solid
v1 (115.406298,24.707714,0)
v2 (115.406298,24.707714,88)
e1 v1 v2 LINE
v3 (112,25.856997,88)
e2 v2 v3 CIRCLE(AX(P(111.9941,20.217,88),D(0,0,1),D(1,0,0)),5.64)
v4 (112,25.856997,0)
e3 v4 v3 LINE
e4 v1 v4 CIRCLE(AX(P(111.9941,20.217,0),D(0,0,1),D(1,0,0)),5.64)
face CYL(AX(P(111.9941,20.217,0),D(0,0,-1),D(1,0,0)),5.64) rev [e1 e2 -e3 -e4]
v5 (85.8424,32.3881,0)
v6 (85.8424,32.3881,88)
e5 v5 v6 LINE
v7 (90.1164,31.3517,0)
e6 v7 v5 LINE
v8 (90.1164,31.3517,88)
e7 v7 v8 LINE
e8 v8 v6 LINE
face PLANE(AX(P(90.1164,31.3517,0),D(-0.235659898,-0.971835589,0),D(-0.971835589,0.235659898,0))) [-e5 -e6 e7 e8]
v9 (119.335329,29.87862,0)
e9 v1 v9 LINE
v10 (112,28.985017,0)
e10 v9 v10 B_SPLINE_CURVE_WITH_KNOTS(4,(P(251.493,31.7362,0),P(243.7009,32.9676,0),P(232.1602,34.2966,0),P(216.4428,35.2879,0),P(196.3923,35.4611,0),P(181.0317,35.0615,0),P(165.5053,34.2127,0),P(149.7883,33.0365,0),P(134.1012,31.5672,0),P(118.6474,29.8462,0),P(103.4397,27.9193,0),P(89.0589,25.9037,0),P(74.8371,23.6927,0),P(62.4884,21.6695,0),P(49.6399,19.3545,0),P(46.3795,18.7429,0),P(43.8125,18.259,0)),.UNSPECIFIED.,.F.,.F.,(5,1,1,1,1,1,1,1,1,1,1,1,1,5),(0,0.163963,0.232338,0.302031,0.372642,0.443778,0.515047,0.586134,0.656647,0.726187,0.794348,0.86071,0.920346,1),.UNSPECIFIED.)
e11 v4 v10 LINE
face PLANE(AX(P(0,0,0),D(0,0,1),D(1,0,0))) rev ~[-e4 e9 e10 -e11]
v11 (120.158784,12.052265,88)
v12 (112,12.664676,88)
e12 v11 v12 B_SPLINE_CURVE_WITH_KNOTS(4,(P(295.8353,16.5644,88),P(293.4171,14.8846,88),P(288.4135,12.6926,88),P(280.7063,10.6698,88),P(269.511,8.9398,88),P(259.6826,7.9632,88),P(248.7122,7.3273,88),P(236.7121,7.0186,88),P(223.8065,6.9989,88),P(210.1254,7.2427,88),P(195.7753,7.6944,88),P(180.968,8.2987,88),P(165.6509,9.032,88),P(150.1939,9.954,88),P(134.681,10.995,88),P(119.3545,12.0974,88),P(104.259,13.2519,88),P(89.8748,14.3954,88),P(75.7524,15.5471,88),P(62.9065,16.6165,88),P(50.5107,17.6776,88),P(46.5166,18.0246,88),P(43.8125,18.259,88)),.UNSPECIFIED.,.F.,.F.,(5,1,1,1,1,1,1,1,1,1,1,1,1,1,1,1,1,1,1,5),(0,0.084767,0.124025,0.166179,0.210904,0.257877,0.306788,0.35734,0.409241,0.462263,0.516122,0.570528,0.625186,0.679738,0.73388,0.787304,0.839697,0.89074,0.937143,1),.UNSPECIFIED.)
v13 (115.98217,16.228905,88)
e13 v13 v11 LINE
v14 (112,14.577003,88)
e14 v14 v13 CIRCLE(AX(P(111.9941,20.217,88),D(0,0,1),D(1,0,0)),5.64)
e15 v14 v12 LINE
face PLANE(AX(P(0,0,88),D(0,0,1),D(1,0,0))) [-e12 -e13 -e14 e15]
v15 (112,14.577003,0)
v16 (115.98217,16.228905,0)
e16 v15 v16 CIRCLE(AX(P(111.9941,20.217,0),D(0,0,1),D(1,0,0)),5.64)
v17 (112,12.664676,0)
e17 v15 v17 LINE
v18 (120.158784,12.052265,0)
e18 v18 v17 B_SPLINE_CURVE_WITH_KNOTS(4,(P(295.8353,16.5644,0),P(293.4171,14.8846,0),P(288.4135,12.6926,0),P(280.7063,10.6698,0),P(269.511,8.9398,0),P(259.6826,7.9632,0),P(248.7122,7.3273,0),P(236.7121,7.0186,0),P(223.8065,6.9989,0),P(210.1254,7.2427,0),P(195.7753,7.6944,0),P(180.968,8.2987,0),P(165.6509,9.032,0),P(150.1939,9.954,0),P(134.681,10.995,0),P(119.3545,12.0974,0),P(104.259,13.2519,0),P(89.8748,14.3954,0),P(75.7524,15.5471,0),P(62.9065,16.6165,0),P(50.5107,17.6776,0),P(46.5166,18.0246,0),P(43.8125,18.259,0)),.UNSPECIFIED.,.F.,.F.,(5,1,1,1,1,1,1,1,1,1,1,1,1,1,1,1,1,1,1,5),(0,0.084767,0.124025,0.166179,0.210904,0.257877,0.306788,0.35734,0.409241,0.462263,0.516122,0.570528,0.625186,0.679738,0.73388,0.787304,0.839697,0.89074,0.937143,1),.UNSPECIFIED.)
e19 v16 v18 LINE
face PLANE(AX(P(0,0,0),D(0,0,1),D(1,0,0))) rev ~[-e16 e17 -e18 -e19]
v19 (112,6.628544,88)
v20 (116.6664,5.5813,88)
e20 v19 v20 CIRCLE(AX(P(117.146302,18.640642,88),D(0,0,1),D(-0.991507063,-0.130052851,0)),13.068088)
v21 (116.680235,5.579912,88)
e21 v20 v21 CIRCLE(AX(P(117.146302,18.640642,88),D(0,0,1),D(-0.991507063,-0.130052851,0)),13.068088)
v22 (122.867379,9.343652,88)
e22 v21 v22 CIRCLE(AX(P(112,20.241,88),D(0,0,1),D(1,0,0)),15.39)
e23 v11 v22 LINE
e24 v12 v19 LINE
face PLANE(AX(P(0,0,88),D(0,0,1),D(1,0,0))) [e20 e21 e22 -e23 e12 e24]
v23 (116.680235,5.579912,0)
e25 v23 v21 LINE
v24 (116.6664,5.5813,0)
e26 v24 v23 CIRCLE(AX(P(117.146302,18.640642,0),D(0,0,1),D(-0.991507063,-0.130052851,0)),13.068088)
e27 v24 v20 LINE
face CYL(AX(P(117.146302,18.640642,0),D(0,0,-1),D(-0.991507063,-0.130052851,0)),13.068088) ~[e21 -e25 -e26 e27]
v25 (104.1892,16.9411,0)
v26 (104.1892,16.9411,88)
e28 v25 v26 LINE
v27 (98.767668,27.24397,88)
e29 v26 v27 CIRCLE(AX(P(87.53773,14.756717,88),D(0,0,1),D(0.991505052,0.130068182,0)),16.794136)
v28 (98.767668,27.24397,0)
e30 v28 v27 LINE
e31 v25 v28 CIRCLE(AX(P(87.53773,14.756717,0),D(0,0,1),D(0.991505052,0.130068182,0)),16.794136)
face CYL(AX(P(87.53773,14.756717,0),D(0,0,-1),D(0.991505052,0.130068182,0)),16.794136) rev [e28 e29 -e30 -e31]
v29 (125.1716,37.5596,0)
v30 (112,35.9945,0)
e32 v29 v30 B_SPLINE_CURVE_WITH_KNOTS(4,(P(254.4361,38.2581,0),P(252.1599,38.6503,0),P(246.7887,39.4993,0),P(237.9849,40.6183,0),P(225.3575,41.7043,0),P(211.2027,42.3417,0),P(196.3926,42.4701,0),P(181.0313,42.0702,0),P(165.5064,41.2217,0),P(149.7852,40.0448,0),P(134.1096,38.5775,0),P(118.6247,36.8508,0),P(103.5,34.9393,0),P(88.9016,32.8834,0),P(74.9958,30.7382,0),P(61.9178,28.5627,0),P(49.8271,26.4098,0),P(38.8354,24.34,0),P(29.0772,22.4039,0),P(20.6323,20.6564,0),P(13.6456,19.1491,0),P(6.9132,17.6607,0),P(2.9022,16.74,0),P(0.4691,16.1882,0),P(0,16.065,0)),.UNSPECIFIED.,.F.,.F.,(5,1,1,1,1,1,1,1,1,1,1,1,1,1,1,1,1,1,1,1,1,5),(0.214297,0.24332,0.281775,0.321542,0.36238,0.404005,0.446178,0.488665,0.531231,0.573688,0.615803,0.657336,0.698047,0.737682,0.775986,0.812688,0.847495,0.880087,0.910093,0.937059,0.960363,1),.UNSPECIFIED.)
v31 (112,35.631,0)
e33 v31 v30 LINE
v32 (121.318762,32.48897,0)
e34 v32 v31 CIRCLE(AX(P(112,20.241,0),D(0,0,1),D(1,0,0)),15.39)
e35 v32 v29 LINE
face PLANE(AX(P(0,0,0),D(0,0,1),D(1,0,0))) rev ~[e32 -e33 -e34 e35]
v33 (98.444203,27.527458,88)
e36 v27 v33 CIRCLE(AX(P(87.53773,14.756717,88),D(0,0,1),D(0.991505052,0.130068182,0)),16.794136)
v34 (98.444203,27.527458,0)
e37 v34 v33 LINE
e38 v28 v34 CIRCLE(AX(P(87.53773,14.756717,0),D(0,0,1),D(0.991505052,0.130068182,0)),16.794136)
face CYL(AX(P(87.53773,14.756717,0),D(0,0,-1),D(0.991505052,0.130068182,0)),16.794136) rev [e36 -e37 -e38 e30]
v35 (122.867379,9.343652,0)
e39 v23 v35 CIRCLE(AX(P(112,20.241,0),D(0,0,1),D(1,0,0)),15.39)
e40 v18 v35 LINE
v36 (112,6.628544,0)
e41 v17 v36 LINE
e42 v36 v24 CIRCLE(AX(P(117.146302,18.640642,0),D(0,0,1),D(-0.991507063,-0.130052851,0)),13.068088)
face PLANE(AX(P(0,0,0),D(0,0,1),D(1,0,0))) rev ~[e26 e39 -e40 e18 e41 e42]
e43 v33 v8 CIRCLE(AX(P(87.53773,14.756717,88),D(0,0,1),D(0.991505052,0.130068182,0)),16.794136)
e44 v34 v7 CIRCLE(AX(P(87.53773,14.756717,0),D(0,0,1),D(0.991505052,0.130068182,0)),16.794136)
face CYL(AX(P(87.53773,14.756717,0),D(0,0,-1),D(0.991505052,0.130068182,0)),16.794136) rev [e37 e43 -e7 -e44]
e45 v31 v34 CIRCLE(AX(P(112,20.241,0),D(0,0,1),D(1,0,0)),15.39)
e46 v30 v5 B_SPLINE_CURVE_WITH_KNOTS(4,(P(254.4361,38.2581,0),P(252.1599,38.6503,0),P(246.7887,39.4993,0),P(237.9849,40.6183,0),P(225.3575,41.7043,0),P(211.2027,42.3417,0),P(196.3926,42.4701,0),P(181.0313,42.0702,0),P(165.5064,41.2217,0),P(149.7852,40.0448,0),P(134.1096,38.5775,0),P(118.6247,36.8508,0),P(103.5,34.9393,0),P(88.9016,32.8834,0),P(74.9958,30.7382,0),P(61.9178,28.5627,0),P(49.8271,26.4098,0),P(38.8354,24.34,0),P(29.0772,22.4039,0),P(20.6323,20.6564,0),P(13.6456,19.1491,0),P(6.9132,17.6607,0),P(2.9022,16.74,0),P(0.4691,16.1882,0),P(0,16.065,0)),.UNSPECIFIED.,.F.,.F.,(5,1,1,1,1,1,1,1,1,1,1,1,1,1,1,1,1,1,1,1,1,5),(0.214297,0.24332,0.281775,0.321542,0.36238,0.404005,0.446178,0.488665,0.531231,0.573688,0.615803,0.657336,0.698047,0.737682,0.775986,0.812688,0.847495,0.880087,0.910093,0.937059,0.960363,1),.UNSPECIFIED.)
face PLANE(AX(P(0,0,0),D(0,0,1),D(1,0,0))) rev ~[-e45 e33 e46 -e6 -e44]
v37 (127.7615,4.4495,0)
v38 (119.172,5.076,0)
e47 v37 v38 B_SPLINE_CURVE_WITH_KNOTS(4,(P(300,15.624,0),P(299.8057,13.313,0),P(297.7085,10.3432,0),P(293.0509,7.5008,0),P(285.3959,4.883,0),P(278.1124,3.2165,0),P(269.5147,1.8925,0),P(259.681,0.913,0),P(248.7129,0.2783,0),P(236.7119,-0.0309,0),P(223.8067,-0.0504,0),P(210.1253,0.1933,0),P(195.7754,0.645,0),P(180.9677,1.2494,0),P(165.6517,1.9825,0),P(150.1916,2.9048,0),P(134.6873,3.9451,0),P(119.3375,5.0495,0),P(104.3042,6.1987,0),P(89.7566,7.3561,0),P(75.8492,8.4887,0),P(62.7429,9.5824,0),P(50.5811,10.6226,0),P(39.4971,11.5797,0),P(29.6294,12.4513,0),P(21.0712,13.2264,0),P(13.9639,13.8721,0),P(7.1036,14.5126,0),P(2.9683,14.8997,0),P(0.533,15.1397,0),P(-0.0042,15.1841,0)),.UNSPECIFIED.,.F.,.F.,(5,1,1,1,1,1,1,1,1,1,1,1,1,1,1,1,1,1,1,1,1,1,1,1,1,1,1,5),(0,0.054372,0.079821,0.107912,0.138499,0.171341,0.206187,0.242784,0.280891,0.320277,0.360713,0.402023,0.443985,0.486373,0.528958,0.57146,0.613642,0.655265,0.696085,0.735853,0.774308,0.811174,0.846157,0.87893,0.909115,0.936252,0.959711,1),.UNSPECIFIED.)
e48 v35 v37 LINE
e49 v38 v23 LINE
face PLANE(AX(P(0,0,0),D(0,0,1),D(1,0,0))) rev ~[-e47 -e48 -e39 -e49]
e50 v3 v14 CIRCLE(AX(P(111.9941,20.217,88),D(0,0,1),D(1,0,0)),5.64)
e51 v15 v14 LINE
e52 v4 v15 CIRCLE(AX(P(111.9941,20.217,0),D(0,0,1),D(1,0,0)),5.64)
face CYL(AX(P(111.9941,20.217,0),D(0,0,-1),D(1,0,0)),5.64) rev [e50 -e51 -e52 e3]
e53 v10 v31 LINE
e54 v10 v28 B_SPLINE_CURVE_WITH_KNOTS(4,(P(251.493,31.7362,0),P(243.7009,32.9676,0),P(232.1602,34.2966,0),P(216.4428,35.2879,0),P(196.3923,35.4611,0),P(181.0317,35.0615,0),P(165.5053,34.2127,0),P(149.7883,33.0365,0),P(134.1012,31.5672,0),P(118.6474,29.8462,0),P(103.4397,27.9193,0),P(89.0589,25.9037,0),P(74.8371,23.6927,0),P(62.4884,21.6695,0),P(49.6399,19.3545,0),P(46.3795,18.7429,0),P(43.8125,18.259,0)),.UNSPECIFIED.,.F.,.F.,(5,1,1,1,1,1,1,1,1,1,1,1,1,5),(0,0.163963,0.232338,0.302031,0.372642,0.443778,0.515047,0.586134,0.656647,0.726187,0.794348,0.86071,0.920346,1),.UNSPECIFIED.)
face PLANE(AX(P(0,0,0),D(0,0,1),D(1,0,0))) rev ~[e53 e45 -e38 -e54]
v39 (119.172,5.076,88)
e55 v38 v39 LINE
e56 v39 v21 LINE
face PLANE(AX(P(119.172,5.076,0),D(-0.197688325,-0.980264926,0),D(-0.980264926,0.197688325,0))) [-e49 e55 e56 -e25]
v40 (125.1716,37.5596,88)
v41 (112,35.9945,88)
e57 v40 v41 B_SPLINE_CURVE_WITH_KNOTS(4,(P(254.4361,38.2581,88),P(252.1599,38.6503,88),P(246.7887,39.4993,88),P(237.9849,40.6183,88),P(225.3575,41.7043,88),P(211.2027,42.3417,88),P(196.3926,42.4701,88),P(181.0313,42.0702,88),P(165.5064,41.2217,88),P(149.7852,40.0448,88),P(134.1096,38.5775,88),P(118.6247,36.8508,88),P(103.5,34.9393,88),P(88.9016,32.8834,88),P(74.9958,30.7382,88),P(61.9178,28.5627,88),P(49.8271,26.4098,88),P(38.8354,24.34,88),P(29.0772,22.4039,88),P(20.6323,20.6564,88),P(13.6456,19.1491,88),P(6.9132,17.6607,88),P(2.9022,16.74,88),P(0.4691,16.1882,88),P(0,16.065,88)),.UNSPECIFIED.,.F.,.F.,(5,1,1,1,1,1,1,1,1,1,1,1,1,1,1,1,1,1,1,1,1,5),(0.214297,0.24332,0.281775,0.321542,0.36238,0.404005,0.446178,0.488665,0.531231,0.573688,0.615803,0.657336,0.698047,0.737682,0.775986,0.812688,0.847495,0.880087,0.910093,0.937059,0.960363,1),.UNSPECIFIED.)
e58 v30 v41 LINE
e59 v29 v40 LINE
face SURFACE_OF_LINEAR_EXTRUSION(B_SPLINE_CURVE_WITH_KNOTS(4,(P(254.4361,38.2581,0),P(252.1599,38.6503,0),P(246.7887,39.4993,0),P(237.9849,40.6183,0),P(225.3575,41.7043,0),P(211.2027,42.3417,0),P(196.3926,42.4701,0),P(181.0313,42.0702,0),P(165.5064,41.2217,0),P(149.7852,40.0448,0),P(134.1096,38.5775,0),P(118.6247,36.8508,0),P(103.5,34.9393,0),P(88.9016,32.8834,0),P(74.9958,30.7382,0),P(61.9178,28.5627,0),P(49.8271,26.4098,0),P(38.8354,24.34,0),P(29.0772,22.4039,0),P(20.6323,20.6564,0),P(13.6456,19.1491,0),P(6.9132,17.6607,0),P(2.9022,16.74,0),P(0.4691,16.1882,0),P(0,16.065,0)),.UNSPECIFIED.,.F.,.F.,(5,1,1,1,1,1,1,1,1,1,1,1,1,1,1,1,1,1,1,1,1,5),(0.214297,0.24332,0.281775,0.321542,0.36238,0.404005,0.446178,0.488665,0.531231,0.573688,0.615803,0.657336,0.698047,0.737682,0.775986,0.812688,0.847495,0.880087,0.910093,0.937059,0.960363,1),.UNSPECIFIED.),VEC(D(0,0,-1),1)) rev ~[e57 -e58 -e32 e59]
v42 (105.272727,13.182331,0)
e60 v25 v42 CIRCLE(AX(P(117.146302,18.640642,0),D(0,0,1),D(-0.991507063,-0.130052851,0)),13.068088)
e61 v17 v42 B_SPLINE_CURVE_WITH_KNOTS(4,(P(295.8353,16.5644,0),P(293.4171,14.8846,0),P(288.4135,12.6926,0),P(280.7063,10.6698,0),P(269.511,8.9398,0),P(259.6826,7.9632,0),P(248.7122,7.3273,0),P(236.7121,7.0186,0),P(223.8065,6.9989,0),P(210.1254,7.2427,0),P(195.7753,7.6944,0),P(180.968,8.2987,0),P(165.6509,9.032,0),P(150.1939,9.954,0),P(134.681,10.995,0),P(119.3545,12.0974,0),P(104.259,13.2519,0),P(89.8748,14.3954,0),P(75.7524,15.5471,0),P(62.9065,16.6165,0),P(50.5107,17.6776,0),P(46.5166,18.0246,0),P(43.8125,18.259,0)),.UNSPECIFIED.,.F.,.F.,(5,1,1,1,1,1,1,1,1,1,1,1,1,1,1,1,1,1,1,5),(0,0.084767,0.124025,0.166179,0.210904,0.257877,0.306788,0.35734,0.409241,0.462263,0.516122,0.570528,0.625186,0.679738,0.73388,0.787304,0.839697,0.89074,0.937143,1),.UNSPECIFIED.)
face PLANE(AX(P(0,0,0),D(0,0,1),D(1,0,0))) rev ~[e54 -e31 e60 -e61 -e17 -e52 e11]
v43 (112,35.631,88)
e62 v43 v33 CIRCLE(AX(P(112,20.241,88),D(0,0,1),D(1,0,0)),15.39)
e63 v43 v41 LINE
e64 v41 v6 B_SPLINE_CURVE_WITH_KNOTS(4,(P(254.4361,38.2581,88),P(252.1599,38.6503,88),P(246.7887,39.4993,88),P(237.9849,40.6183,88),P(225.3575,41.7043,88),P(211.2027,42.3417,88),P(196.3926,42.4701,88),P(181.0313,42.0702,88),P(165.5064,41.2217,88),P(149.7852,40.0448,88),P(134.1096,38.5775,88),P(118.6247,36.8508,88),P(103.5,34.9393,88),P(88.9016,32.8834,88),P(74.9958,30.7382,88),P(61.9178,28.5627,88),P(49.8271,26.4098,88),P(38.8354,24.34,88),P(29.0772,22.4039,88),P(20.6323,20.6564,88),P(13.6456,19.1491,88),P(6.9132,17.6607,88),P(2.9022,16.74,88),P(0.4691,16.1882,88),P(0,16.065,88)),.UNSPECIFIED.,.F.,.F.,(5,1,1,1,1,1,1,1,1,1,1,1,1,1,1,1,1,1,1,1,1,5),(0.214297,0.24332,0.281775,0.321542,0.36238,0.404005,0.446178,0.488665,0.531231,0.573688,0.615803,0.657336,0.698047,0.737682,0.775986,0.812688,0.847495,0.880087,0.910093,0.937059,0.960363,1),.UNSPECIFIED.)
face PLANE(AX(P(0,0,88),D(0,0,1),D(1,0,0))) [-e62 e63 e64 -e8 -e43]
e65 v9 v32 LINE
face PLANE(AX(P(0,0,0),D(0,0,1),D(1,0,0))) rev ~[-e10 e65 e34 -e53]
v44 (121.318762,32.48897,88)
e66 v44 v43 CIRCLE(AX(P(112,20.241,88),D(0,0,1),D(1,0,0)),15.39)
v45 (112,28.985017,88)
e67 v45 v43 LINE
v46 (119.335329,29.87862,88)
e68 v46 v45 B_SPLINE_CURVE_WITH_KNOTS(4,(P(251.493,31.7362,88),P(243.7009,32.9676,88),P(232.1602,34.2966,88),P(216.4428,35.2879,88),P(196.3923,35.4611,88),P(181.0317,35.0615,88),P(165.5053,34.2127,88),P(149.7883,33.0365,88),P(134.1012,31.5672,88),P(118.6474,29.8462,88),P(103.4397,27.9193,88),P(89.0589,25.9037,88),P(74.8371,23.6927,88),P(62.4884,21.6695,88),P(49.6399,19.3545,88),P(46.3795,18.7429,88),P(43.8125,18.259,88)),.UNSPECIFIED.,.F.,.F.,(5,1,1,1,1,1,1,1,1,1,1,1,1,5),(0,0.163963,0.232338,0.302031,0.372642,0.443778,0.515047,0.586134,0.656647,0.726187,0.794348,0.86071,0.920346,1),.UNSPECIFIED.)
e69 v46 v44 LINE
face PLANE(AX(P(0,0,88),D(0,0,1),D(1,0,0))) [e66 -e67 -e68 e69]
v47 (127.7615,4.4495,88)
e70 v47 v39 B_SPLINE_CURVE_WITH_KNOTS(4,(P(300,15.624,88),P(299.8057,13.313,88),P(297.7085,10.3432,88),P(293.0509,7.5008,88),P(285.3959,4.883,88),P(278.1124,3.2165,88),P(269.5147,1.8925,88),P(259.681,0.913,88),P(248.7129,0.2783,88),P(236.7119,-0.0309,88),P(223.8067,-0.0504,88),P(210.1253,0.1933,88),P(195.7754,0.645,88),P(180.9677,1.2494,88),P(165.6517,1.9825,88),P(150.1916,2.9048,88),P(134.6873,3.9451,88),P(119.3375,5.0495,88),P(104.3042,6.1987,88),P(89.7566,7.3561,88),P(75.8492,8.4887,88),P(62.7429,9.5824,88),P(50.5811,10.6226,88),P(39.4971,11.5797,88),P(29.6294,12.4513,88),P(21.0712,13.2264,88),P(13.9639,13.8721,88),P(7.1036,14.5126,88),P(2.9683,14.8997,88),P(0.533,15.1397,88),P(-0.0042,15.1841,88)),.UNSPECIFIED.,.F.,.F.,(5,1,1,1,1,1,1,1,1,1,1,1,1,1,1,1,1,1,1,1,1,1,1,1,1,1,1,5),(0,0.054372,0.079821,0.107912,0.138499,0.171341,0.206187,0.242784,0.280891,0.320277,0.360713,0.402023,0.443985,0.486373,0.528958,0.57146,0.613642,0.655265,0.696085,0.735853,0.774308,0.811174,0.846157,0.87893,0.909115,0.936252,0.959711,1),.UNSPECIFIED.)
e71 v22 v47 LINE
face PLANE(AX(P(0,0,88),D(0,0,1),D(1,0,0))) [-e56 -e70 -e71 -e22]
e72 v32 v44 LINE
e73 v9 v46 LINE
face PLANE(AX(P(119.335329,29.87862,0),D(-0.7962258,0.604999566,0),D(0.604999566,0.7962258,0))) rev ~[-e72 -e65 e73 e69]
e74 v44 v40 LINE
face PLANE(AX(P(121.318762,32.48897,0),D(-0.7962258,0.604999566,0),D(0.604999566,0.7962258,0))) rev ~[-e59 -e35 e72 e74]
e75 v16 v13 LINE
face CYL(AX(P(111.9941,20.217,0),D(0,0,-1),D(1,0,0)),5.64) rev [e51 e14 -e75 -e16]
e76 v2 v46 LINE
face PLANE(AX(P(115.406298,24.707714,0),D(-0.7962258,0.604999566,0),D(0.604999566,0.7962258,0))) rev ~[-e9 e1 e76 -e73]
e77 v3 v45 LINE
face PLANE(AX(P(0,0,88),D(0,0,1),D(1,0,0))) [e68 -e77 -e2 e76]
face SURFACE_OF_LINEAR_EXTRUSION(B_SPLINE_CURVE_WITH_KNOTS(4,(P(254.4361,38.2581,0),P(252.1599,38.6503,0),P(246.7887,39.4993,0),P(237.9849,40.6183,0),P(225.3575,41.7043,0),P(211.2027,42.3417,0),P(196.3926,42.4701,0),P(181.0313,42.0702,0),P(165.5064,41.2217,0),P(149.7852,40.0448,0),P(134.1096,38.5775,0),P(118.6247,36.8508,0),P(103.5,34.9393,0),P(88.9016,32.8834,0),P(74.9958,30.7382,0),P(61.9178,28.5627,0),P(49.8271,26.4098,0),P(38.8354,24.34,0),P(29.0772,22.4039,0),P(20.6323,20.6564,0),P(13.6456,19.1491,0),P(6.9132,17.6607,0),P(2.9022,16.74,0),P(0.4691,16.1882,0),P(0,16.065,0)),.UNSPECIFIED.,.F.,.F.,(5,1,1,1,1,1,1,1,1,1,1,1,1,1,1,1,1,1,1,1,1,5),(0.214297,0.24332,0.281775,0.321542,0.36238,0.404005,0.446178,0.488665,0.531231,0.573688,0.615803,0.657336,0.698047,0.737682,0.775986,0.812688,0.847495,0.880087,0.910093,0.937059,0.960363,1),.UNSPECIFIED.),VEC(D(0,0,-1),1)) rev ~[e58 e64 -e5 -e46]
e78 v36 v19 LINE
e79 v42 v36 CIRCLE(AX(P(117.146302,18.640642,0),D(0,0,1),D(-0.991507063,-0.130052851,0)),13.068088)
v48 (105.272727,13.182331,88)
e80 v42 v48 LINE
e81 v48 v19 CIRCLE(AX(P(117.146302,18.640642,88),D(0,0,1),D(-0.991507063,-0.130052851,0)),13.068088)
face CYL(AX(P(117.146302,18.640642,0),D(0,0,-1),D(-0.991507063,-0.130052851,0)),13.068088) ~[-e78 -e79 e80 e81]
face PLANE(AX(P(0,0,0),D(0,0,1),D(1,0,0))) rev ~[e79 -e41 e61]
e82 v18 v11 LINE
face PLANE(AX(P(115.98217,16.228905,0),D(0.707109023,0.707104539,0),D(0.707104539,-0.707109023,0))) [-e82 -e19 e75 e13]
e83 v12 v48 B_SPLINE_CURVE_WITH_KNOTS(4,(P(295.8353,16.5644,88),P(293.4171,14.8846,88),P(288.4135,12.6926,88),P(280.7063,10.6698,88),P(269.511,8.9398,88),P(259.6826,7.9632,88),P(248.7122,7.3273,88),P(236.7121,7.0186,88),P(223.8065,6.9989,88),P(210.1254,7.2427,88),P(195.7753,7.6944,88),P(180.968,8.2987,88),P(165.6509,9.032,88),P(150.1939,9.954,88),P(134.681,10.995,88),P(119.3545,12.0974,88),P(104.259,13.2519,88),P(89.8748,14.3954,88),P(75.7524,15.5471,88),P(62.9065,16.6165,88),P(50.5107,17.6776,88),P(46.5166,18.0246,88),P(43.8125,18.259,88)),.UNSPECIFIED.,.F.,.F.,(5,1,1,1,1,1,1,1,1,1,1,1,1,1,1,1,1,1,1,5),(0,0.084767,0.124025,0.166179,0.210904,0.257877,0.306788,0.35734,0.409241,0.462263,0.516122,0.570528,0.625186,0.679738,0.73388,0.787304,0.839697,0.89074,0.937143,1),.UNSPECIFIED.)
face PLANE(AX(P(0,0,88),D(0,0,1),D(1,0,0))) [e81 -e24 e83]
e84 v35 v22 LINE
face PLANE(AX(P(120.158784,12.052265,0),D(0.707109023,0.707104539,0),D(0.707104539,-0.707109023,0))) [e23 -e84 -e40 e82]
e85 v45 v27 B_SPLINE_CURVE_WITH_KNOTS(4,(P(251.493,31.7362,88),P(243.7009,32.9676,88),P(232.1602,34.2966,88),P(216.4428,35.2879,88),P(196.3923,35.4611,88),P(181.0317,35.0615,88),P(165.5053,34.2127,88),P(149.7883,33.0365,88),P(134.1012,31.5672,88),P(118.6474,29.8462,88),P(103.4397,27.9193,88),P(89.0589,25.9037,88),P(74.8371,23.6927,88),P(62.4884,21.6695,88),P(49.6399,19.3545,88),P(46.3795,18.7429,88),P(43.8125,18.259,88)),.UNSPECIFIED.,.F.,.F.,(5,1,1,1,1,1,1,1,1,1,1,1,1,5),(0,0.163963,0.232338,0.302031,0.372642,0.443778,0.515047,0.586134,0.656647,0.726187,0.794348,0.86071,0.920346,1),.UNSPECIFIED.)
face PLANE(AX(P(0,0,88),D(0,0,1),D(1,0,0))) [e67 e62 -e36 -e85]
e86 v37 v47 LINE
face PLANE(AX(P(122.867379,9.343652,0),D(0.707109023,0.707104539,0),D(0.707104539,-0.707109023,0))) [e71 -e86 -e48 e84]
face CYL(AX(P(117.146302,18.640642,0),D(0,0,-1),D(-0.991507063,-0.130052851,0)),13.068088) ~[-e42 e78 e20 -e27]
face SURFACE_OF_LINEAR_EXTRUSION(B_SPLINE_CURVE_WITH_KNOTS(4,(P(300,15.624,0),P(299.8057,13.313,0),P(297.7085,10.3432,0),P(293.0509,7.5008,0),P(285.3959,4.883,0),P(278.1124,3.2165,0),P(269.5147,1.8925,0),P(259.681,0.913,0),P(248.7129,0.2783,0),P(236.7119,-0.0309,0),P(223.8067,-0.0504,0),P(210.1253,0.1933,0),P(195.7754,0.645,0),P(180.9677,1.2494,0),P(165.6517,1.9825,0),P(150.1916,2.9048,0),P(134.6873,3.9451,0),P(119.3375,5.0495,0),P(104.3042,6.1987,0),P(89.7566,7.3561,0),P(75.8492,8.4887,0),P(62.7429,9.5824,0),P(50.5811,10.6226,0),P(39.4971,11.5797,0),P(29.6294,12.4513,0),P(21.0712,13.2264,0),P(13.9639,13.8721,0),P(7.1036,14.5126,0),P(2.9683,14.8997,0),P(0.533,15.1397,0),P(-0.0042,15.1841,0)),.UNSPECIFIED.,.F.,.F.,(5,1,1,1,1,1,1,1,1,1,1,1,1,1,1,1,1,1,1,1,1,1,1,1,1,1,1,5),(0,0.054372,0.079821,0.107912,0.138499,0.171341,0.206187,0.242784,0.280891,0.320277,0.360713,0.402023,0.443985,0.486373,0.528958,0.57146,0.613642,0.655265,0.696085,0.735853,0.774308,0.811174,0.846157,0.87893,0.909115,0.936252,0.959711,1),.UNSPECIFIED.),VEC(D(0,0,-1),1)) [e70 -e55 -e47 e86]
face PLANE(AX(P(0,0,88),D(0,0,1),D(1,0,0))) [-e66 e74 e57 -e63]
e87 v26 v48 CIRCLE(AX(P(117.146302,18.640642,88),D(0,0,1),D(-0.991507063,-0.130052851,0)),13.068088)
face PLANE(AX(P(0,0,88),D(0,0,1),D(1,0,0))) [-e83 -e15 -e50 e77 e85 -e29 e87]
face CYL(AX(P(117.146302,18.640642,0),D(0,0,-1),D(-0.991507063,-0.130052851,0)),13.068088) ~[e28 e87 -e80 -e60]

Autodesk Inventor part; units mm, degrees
ref_plane "YZ Plane" through (0, 0, 0) normal (1, 0, 0) x (0, 1, 0)
ref_plane "XZ Plane" through (0, 0, 0) normal (0, 1, 0) x (-1, 0, 0)
ref_plane "XY Plane" through (0, 0, 0) normal (0, 0, 1) x (1, 0, 0)
sketch "Sketch1" plane through (0, 0, 0) normal (0, 0, 1) x (1, 0, 0)
  spline S0 degree 4 poles (254.4361, 38.2581) (252.1599, 38.6503) (246.7887, 39.4993) (237.9849, 40.6183) (225.3575, 41.7043) (211.2027, 42.3417) (196.3926, 42.4701) (181.0313, 42.0702) (165.5064, 41.2217) (149.7852, 40.0448) (134.1096, 38.5775) (118.6247, 36.8508) (103.5, 34.9393) (88.9016, 32.8834) (74.9958, 30.7382) (61.9178, 28.5627) (49.8271, 26.4098) (38.8354, 24.34) (29.0772, 22.4039) (20.6323, 20.6564) (13.6456, 19.1491) (6.9132, 17.6607) (2.9022, 16.74) (0.4691, 16.1882) (0, 16.065) knots 0.214297 0.214297 0.214297 0.214297 0.214297 0.24332 0.281775 0.321542 0.36238 0.404005 0.446178 0.488665 0.531231 0.573688 0.615803 0.657336 0.698047 0.737682 0.775986 0.812688 0.847495 0.880087 0.910093 0.937059 0.960363 1 1 1 1 1
  spline S1 degree 4 poles (300, 15.624) (299.8057, 13.313) (297.7085, 10.3432) (293.0509, 7.5008) (285.3959, 4.883) (278.1124, 3.2165) (269.5147, 1.8925) (259.681, 0.913) (248.7129, 0.2783) (236.7119, -0.0309) (223.8067, -0.0504) (210.1253, 0.1933) (195.7754, 0.645) (180.9677, 1.2494) (165.6517, 1.9825) (150.1916, 2.9048) (134.6873, 3.9451) (119.3375, 5.0495) (104.3042, 6.1987) (89.7566, 7.3561) (75.8492, 8.4887) (62.7429, 9.5824) (50.5811, 10.6226) (39.4971, 11.5797) (29.6294, 12.4513) (21.0712, 13.2264) (13.9639, 13.8721) (7.1036, 14.5126) (2.9683, 14.8997) (0.533, 15.1397) (-0.0042, 15.1841) knots 0 0 0 0 0 0.054372 0.079821 0.107912 0.138499 0.171341 0.206187 0.242784 0.280891 0.320277 0.360713 0.402023 0.443985 0.486373 0.528958 0.57146 0.613642 0.655265 0.696085 0.735853 0.774308 0.811174 0.846157 0.87893 0.909115 0.936252 0.959711 1 1 1 1 1
  arc A0 (0, 16.065) -> (-0.0042, 15.1841) centre (0.1158, 15.624) ccw
  line L0 (0.1158, 15.624) -> (227.9902, 15.624) construction
  line L1 (300, 15.624) -> (0.1158, 15.624) construction
  line L2 (300, 15.624) -> (200, 15.624) construction
  line L3 (200, 15.624) -> (200, 42.3773) construction
  line L4 (200, 15.624) -> (200, 0.5273)
  line L5 (0, 0) -> (0, 20.241)
  line L6 (0, 20.241) -> (238.581, 20.241) construction
  circle A1 centre (238.581, 20.241) radius 14
  line L7 (238.581, 20.241) -> (208.581, 20.241)
  line L8 (238.581, 25.359) -> (238.581, 20.241)
  line L9 (0, 20.241) -> (112, 20.241) construction
  circle A2 centre (112, 20.241) radius 5.39
  line L10 (0, 15.624) -> (112, 15.624) construction
  line L11 (0, 15.624) -> (112, 15.624) construction
  line L12 (112, 15.624) -> (112, 35.9945)
  line L13 (112, 15.624) -> (112, 5.6153)
  spline S2 degree 4 poles (299.2852, 20.241) (299.2279, 20.1316) (299.168, 20.0232) (299.1056, 19.9158) (299.0406, 19.8092) knots 0.014818 0.014818 0.014818 0.014818 0.014818 0.017711 0.017711 0.017711 0.017711 0.017711
  line L14 (299.2071, 20.0822) -> (298.8742, 19.5363) construction
  arc A3 (298.904, 19.5932) -> (299.1702, 20.0296) centre (292.2911, 23.9254) ccw construction
  line L15 (299.432, 20.5214) -> (299.1384, 19.9606) construction
  arc A4 (299.1639, 20.0188) -> (299.3987, 20.4672) centre (292.801, 23.6361) ccw construction
  spline S3 degree 2 poles (295.8506, 16.56) (295.1573, 16.0692) (294.3933, 15.624) knots 0 0 0 1 1 1
  line L16 (294.5507, 15.7157) -> (294.2359, 15.5323) construction
  arc A5 (294.2672, 15.5511) -> (294.519, 15.6978) centre (283.8844, 33.657) ccw construction
  spline S4 degree 4 poles (296.8569, 15.624) (296.6183, 15.8629) (296.3707, 16.0985) (296.1147, 16.3309) (295.8506, 16.56) knots 0.044099 0.044099 0.044099 0.044099 0.044099 0.050856 0.050856 0.050856 0.050856 0.050856
  spline S5 degree 4 poles (219.5872, 34.9119) (218.6954, 34.952) (214.8585, 35.1063) (210.7072, 35.3295) (192.898, 35.4464) (181.4278, 35.0555) (165.1774, 34.1819) (149.5619, 33.1267) (133.8284, 31.3479) (128.2654, 31.0974) (123.3908, 30.59) knots 0 0 0 0 0 0.139244 0.23322 0.363937 0.509983 0.657115 0.798105 1 1 1 1 1
  line L17 (295.9593, 16.4657) -> (295.7419, 16.6543) construction
  arc A6 (295.9374, 16.4843) -> (295.7635, 16.6352) centre (281.8729, 0.4516) ccw construction
  line L18 (232.7438, 34.3645) -> (201.1936, 35.6815) construction
  arc A7 (229.5868, 34.4549) -> (204.3471, 35.5085) centre (136.3483, -1896.3245) ccw construction
  arc A8 (264.2661, 15.123) -> (264.3608, 15.624) centre (238.581, 20.241) ccw
  circle A9 centre (238.581, 20.241) radius 24
  circle A10 centre (112, 20.241) radius 15.39
  spline S6 degree 4 poles (300, 15.624) (300.2691, 17.9337) (298.7834, 21.2677) (294.6934, 24.9798) (287.5317, 28.9406) (280.4869, 31.8205) (271.481, 34.7182) (262.4868, 36.793) (257.7004, 37.6957) (254.4361, 38.2581) knots 0 0 0 0 0 0.247555 0.363857 0.49255 0.632996 0.778264 1 1 1 1 1
  line L19 (285.2945, 32.941) -> (223.5776, 43.5753) construction
  arc A11 (278.7224, 32.6349) -> (229.6682, 41.0872) centre (217.2184, -177.7386) ccw construction
  line L20 (285.2945, 32.941) -> (223.5776, 43.5753) construction
  arc A12 (278.8771, 33.0418) -> (229.6586, 41.5224) centre (200.8949, -272.4733) ccw construction
  spline S7 degree 4 poles (251.493, 31.7362) (243.7009, 32.9676) (232.1602, 34.2966) (216.4428, 35.2879) (196.3923, 35.4611) (181.0317, 35.0615) (165.5053, 34.2127) (149.7883, 33.0365) (134.1012, 31.5672) (118.6474, 29.8462) (103.4397, 27.9193) (89.0589, 25.9037) (74.8371, 23.6927) (62.4884, 21.6695) (49.6399, 19.3545) (46.3795, 18.7429) (43.8125, 18.259) knots 0 0 0 0 0 0.163963 0.232338 0.302031 0.372642 0.443778 0.515047 0.586134 0.656647 0.726187 0.794348 0.86071 0.920346 1 1 1 1 1
  spline S8 degree 4 poles (295.845, 16.556) (295.7198, 16.6646) (294.585, 17.6283) (292.0585, 19.4283) (287.5167, 21.9347) (280.467, 24.8321) (271.9714, 27.5226) (264.2087, 29.4004) (258.4092, 30.5515) (255.0536, 31.1429) (254.4361, 31.2493) (253.9689, 31.3298) (253.5018, 31.4103) (253.0347, 31.4908) (252.5676, 31.5712) knots 0.050892 0.050892 0.050892 0.050892 0.050892 0.054094 0.079507 0.107628 0.138317 0.171335 0.206423 0.214297 0.214297 0.214297 0.214297 0.220253 0.220253 0.220253 0.220253 0.220253
  line L21 (285.2945, 25.9322) -> (223.5776, 36.5664) construction
  line L22 (285.2945, 25.9322) -> (223.5776, 36.5664) construction
  arc A13 (278.7224, 25.626) -> (229.6682, 34.0784) centre (217.2184, -184.7474) ccw construction
  line L23 (270.129, 9.1254) -> (275.129, 9.1254) construction
  line L24 (281.07, 24.4582) -> (286.07, 24.4582) construction
  line L25 (318.8214, -3.3673) -> (272.8686, 36.4793) construction
  arc A14 (303.2079, 0.552) -> (278.9595, 21.5782) centre (281.8576, 0.4252) ccw construction
  spline S9 degree 4 poles (295.8353, 16.5644) (293.4171, 14.8846) (288.4135, 12.6926) (280.7063, 10.6698) (269.511, 8.9398) (259.6826, 7.9632) (248.7122, 7.3273) (236.7121, 7.0186) (223.8065, 6.9989) (210.1254, 7.2427) (195.7753, 7.6944) (180.968, 8.2987) (165.6509, 9.032) (150.1939, 9.954) (134.681, 10.995) (119.3545, 12.0974) (104.259, 13.2519) (89.8748, 14.3954) (75.7524, 15.5471) (62.9065, 16.6165) (50.5107, 17.6776) (46.5166, 18.0246) (43.8125, 18.259) knots 0 0 0 0 0 0.084767 0.124025 0.166179 0.210904 0.257877 0.306788 0.35734 0.409241 0.462263 0.516122 0.570528 0.625186 0.679738 0.73388 0.787304 0.839697 0.89074 0.937143 1 1 1 1 1
  spline S10 degree 4 poles (21.4623, 20.241) (20.6227, 20.317) (20.124, 20.3622) (19.9191, 20.3809) (19.554, 20.414) knots 0.979732 0.979732 0.979732 0.979732 0.979732 1 1 1 1 1 construction
  line L26 (68.4884, 16.1198) -> (19.1367, 20.3983) construction
  arc A15 (63.5515, 16.5281) -> (24.0702, 19.9509) centre (-819.8994, -9944.3712) ccw construction
  line L27 (21.7244, 20.2173) -> (21.2001, 20.2647) construction
  arc A16 (21.2525, 20.26) -> (21.672, 20.222) centre (898.6358, 9712.9556) ccw construction
  line L28 (74.2541, 23.9969) -> (13.371, 12.5211) construction
  arc A17 (68.1759, 22.7939) -> (19.47, 13.6134) centre (1053.3901, -5337.891) ccw construction
  spline S11 degree 4 poles (218.4375, 7.1934) (217.6173, 7.2408) (213.8192, 7.4688) (209.5863, 6.8507) (192.5485, 7.9441) (181.1469, 8.163) (165.7461, 9.0283) (149.1424, 9.8801) (139.9777, 10.7519) (129.1073, 11.2464) (124.6867, 11.5289) knots 0 0 0 0 0 0.127631 0.213723 0.333628 0.467446 0.602621 0.738424 0.880395 0.880395 0.880395 0.880395 0.880395
  line L29 (133.5337, 10.9635) -> (115.8396, 12.0942) construction
  arc A18 (117.618, 12.0789) -> (131.7678, 11.1747) centre (141.027, 267.2384) ccw construction
  line L30 (140.665, 32.3881) -> (106.1166, 28.792) construction
  arc A19 (137.222, 31.4497) -> (109.679, 28.5828) centre (140.6225, -134.9596) ccw construction
  circle A20 centre (238.581, 20.241) radius 18
  line L31 (238.581, 38.241) -> (225.78, 41.559)
  line L32 (238.581, 2.241) -> (224.22, 0)
  line L33 (214.581, 20.241) -> (214.581, 42.1266) construction
  line L34 (127.39, 20.241) -> (127.39, 11.5255) construction
  line L35 (127.39, 20.241) -> (131.3139, 20.241) construction
  line L36 (96.61, 20.241) -> (96.61, 13.8631) construction
  line L37 (270.129, 5.6153) -> (270.129, 15.624) construction
  line L38 (272.129, 7.6153) -> (272.129, 13.624)
  line L39 (268.129, 13.624) -> (268.129, 7.6153)
  arc A21 (268.129, 7.6153) -> (272.129, 7.6153) centre (270.129, 7.6153) ccw
  arc A22 (272.129, 13.624) -> (268.129, 13.624) centre (270.129, 13.624) ccw
  line L40 (270.129, 32.1807) -> (270.129, 22.172) construction
  line L41 (272.129, 30.1807) -> (272.129, 24.172)
  line L42 (268.129, 24.172) -> (268.129, 30.1807)
  arc A23 (272.129, 30.1807) -> (268.129, 30.1807) centre (270.129, 30.1807) ccw
  arc A24 (268.129, 24.172) -> (272.129, 24.172) centre (270.129, 24.172) ccw
  arc A25 (200, 42.3155) -> (199.8539, 42.3773) centre (190.581, 20.241) ccw
  arc A26 (171.273, 34.4958) -> (171.2681, 34.4892) centre (190.581, 20.241) ccw
  arc A27 (210.7484, 7.2304) -> (209.2875, 35.2765) centre (190.581, 20.241) ccw
  arc A28 (169.4455, 8.8703) -> (169.4744, 8.8168) centre (190.581, 20.241) ccw
  arc A29 (153.9768, 9.6824) -> (154.0303, 9.7394) centre (142.78, 20.241) ccw
  arc A30 (151.2419, 33.0959) -> (151.2193, 33.1107) centre (142.78, 20.241) ccw
  arc A31 (132.1299, 31.3508) -> (130.3229, 11.2037) centre (142.78, 20.241) ccw
  arc A32 (95.2741, 13.9693) -> (95.1698, 26.7415) centre (81.22, 20.241) ccw
  arc A33 (66.334, 16.3348) -> (66.5389, 15.624) centre (81.22, 20.241) ccw
  line L43 (112, 20.241) -> (112, 14.851) construction
  line L44 (112, 14.851) -> (91.265, 14.851) construction
  circle A34 centre (91.265, 14.851) radius 4
  circle A35 centre (111.9941, 20.217) radius 5.39
  arc A36 (104.1892, 16.9411) -> (90.1164, 31.3517) centre (87.5379, 14.7568) ccw
  arc A37 (104.1892, 16.9411) -> (116.9519, 5.574) centre (117.1466, 18.6408) ccw
  line L45 (90.1164, 31.3517) -> (85.8424, 32.3881)
  line L46 (119.172, 5.076) -> (116.6664, 5.5813)
  circle A38 centre (238.581, 20.241) radius 13.69
  circle A39 centre (111.9941, 20.217) radius 5.64
  line L47 (111.9941, 20.217) -> (125.1716, 37.5596)
  line L48 (111.9941, 20.217) -> (127.7615, 4.4495)
  line L49 (111.9941, 20.217) -> (119.9703, 20.217) construction
  point P0 (0.783, 16.254)
  point P1 (3.213, 16.812)
  point P2 (7.239, 17.724)
  point P3 (12.813, 18.96)
  point P4 (19.884, 20.484)
  point P5 (28.374, 22.245)
  point P6 (38.199, 24.195)
  point P7 (49.254, 26.28)
  point P8 (61.419, 28.446)
  point P9 (74.571, 30.636)
  point P10 (88.56, 32.793)
  point P11 (103.242, 34.86)
  point P12 (118.455, 36.783)
  point P13 (134.028, 38.511)
  point P14 (149.793, 39.984)
  point P15 (165.576, 41.16)
  point P16 (181.206, 41.985)
  point P17 (196.638, 42.363)
  point P18 (211.554, 42.222)
  point P19 (239.145, 40.389)
  point P20 (262.68, 36.666)
  point P21 (272.577, 34.218)
  point P22 (281.07, 31.467)
  point P23 (288.069, 28.491)
  point P24 (293.505, 25.359)
  point P25 (297.324, 22.137)
  point P26 (300, 15.624)
  point P27 (0.861, 15.105)
  point P28 (3.342, 14.868)
  point P29 (7.446, 14.481)
  point P30 (13.122, 13.953)
  point P31 (20.31, 13.296)
  point P32 (28.92, 12.519)
  point P33 (38.856, 11.64)
  point P34 (50.007, 10.674)
  point P35 (62.244, 9.63)
  point P36 (75.429, 8.529)
  point P37 (89.418, 7.389)
  point P38 (104.052, 6.228)
  point P39 (134.613, 3.966)
  point P40 (150.207, 2.928)
  point P41 (165.783, 2.013)
  point P42 (181.167, 1.263)
  point P43 (196.068, 0.663)
  point P44 (210.468, 0.225)
  point P45 (237.189, 0.039)
  point P46 (249.246, 0.378)
  point P47 (260.262, 1.05)
  point P48 (270.129, 2.076)
  point P49 (278.739, 3.462)
  point P50 (285.993, 5.211)
  point P51 (291.81, 7.314)
  point P52 (296.121, 9.756)
  point P53 (298.863, 12.531)
  point P54 (200, 15.624)
  point P55 (225.3642, 15.624)
  point P56 (238.581, 6.241)
  point P57 (238.581, 34.241)
  point P58 (225.3642, 15.624)
  point P59 (251.7978, 15.624)
  point P60 (0, 16.065)
  point P61 (0, 15.1838)
  point P62 (224.581, 20.241)
  point P63 (112, 25.631)
  point P64 (0, 9.065)
  point P65 (0.783, 9.254)
  point P66 (3.213, 9.812)
  point P67 (7.239, 10.724)
  point P68 (12.813, 11.96)
  point P69 (19.884, 13.484)
  point P70 (28.374, 15.245)
  point P71 (38.199, 17.195)
  point P72 (49.254, 19.28)
  point P73 (61.419, 21.446)
  point P74 (74.571, 23.636)
  point P75 (88.56, 25.793)
  point P76 (103.242, 27.86)
  point P77 (118.455, 29.783)
  point P78 (134.028, 31.511)
  point P79 (149.793, 32.984)
  point P80 (165.576, 34.16)
  point P81 (181.206, 34.985)
  point P82 (225.78, 34.559)
  point P83 (239.145, 33.389)
  point P84 (251.493, 31.745)
  point P85 (262.68, 29.666)
  point P86 (272.577, 27.218)
  point P87 (281.07, 24.467)
  point P88 (288.069, 21.491)
  point P89 (293.505, 18.359)
  point P90 (297.324, 15.137)
  point P91 (299.493, 11.879)
  point P92 (300, 8.624)
  point P93 (-0.0042, 22.1841)
  point P94 (0.861, 22.105)
  point P95 (3.342, 21.868)
  point P96 (7.446, 21.481)
  point P97 (13.122, 20.953)
  point P98 (20.31, 20.296)
  point P99 (28.92, 19.519)
  point P100 (38.856, 18.64)
  point P101 (50.007, 17.674)
  point P102 (62.244, 16.63)
  point P103 (75.429, 15.529)
  point P104 (89.418, 14.389)
  point P105 (104.052, 13.228)
  point P106 (119.172, 12.076)
  point P107 (134.613, 10.966)
  point P108 (150.207, 9.928)
  point P109 (165.783, 9.013)
  point P110 (181.167, 8.263)
  point P111 (196.068, 7.663)
  point P112 (210.468, 7.225)
  point P113 (224.22, 7)
  point P114 (237.189, 7.039)
  point P115 (249.246, 7.378)
  point P116 (260.262, 8.05)
  point P117 (270.129, 9.076)
  point P118 (278.739, 10.462)
  point P119 (285.993, 12.211)
  point P120 (291.81, 14.314)
  point P121 (296.121, 16.756)
  point P122 (298.863, 19.531)
  point P123 (300, 22.624)
  point P124 (18.7405, 20.241)
  point P125 (216.9687, 35.023)
  point P126 (0, 16.065)
  point P127 (296.8569, 15.624)
  point P128 (294.3933, 15.624)
  point P129 (219.5872, 34.9119)
  point P130 (123.3908, 30.59)
  point P131 (254.4361, 38.2581)
  point P132 (0, 9.0562)
  point P133 (0.783, 9.2452)
  point P134 (3.213, 9.8032)
  point P135 (7.239, 10.7152)
  point P136 (12.813, 11.9512)
  point P137 (19.884, 13.4752)
  point P138 (28.374, 15.2362)
  point P139 (38.199, 17.1862)
  point P140 (49.254, 19.2712)
  point P141 (61.419, 21.4372)
  point P142 (74.571, 23.6272)
  point P143 (88.56, 25.7842)
  point P144 (103.242, 27.8512)
  point P145 (118.455, 29.7742)
  point P146 (134.028, 31.5022)
  point P147 (149.793, 32.9752)
  point P148 (165.576, 34.1512)
  point P149 (181.206, 34.9762)
  point P150 (196.638, 35.3542)
  point P151 (211.554, 35.2132)
  point P152 (225.78, 34.5502)
  point P153 (262.68, 29.6572)
  point P154 (272.577, 27.2092)
  point P155 (297.324, 15.1282)
  point P156 (299.493, 11.8702)
  point P157 (300, 8.6152)
  point P158 (254.4361, 31.2493)
  point P159 (216.8848, -206.3625)
  point P160 (278.8769, 26.0734)
  point P161 (229.5906, 33.8662)
  point P162 (-0.0042, 22.2335)
  point P163 (0.861, 22.1544)
  point P164 (3.342, 21.9174)
  point P165 (7.446, 21.5304)
  point P166 (13.122, 21.0024)
  point P167 (28.92, 19.5684)
  point P168 (38.856, 18.6894)
  point P169 (50.007, 17.7234)
  point P170 (62.244, 16.6794)
  point P171 (75.429, 15.5784)
  point P172 (89.418, 14.4384)
  point P173 (104.052, 13.2774)
  point P174 (119.172, 12.1254)
  point P175 (134.613, 11.0154)
  point P176 (150.207, 9.9774)
  point P177 (165.783, 9.0624)
  point P178 (181.167, 8.3124)
  point P179 (196.068, 7.7124)
  point P180 (210.468, 7.2744)
  point P181 (224.22, 7.0494)
  point P182 (237.189, 7.0884)
  point P183 (249.246, 7.4274)
  point P184 (260.262, 8.0994)
  point P185 (278.739, 10.5114)
  point P186 (285.993, 12.2604)
  point P187 (296.121, 16.8054)
  point P188 (298.863, 19.5804)
  point P189 (300, 22.6734)
  point P190 (225.7, -0.0094)
  point P191 (252.2617, 0.522)
  point P192 (227.3495, 41.4508)
  point P193 (105.9778, 6.0782)
  point P194 (115.8008, 5.3277)
  point P195 (98.26, 27.1738)
  point P196 (260.4522, 30.1228)
  point P197 (123.5853, 30.3718)
  point P198 (134.5979, 31.5604)
  point P199 (134.4982, 31.5502)
  dimension "d38" = 10.78
  dimension "d17" = 100
  dimension "d19" = 20.241
  dimension "d20" = 238.581
  dimension "d21" = 28
  dimension "d37" = 112
  dimension "d39" = 112
  dimension "d40" = 0
  dimension "d43" = 10
  dimension "d44" = 10
  dimension "d55" = 4
  dimension "d56" = 90
  dimension "d58" = 4
  dimension "d59" = 20.735
  dimension "d60" = 8
  dimension "d61" = 16.794
  dimension "d62" = 24.4562
  dimension "d63" = 5.4601
  dimension "d64" = 13.0683
  dimension "d65" = 16.5949
  dimension "d66" = 2.5785
  dimension "d68" = 27.38
  dimension "d69" = 11.28
  dimension "d70" = 45
extrude "Extrusion3" add sketch "Sketch1" along normal blind 88 contours L47 A10 L12 S0 | L12 A10 A36 L45 S0 | L47 S7 L12 A10 | L12 S7 A36 A10 | L47 A39 L12 S7 | L12 A39 L13 S9 A37 A36 S7 | A39 L48 S9 L13 | S9 L48 A10 A37 L13 | L13 A37 S9 | L46 A10 L48 S1
properties part number "Flap Foam Pressure tap"
